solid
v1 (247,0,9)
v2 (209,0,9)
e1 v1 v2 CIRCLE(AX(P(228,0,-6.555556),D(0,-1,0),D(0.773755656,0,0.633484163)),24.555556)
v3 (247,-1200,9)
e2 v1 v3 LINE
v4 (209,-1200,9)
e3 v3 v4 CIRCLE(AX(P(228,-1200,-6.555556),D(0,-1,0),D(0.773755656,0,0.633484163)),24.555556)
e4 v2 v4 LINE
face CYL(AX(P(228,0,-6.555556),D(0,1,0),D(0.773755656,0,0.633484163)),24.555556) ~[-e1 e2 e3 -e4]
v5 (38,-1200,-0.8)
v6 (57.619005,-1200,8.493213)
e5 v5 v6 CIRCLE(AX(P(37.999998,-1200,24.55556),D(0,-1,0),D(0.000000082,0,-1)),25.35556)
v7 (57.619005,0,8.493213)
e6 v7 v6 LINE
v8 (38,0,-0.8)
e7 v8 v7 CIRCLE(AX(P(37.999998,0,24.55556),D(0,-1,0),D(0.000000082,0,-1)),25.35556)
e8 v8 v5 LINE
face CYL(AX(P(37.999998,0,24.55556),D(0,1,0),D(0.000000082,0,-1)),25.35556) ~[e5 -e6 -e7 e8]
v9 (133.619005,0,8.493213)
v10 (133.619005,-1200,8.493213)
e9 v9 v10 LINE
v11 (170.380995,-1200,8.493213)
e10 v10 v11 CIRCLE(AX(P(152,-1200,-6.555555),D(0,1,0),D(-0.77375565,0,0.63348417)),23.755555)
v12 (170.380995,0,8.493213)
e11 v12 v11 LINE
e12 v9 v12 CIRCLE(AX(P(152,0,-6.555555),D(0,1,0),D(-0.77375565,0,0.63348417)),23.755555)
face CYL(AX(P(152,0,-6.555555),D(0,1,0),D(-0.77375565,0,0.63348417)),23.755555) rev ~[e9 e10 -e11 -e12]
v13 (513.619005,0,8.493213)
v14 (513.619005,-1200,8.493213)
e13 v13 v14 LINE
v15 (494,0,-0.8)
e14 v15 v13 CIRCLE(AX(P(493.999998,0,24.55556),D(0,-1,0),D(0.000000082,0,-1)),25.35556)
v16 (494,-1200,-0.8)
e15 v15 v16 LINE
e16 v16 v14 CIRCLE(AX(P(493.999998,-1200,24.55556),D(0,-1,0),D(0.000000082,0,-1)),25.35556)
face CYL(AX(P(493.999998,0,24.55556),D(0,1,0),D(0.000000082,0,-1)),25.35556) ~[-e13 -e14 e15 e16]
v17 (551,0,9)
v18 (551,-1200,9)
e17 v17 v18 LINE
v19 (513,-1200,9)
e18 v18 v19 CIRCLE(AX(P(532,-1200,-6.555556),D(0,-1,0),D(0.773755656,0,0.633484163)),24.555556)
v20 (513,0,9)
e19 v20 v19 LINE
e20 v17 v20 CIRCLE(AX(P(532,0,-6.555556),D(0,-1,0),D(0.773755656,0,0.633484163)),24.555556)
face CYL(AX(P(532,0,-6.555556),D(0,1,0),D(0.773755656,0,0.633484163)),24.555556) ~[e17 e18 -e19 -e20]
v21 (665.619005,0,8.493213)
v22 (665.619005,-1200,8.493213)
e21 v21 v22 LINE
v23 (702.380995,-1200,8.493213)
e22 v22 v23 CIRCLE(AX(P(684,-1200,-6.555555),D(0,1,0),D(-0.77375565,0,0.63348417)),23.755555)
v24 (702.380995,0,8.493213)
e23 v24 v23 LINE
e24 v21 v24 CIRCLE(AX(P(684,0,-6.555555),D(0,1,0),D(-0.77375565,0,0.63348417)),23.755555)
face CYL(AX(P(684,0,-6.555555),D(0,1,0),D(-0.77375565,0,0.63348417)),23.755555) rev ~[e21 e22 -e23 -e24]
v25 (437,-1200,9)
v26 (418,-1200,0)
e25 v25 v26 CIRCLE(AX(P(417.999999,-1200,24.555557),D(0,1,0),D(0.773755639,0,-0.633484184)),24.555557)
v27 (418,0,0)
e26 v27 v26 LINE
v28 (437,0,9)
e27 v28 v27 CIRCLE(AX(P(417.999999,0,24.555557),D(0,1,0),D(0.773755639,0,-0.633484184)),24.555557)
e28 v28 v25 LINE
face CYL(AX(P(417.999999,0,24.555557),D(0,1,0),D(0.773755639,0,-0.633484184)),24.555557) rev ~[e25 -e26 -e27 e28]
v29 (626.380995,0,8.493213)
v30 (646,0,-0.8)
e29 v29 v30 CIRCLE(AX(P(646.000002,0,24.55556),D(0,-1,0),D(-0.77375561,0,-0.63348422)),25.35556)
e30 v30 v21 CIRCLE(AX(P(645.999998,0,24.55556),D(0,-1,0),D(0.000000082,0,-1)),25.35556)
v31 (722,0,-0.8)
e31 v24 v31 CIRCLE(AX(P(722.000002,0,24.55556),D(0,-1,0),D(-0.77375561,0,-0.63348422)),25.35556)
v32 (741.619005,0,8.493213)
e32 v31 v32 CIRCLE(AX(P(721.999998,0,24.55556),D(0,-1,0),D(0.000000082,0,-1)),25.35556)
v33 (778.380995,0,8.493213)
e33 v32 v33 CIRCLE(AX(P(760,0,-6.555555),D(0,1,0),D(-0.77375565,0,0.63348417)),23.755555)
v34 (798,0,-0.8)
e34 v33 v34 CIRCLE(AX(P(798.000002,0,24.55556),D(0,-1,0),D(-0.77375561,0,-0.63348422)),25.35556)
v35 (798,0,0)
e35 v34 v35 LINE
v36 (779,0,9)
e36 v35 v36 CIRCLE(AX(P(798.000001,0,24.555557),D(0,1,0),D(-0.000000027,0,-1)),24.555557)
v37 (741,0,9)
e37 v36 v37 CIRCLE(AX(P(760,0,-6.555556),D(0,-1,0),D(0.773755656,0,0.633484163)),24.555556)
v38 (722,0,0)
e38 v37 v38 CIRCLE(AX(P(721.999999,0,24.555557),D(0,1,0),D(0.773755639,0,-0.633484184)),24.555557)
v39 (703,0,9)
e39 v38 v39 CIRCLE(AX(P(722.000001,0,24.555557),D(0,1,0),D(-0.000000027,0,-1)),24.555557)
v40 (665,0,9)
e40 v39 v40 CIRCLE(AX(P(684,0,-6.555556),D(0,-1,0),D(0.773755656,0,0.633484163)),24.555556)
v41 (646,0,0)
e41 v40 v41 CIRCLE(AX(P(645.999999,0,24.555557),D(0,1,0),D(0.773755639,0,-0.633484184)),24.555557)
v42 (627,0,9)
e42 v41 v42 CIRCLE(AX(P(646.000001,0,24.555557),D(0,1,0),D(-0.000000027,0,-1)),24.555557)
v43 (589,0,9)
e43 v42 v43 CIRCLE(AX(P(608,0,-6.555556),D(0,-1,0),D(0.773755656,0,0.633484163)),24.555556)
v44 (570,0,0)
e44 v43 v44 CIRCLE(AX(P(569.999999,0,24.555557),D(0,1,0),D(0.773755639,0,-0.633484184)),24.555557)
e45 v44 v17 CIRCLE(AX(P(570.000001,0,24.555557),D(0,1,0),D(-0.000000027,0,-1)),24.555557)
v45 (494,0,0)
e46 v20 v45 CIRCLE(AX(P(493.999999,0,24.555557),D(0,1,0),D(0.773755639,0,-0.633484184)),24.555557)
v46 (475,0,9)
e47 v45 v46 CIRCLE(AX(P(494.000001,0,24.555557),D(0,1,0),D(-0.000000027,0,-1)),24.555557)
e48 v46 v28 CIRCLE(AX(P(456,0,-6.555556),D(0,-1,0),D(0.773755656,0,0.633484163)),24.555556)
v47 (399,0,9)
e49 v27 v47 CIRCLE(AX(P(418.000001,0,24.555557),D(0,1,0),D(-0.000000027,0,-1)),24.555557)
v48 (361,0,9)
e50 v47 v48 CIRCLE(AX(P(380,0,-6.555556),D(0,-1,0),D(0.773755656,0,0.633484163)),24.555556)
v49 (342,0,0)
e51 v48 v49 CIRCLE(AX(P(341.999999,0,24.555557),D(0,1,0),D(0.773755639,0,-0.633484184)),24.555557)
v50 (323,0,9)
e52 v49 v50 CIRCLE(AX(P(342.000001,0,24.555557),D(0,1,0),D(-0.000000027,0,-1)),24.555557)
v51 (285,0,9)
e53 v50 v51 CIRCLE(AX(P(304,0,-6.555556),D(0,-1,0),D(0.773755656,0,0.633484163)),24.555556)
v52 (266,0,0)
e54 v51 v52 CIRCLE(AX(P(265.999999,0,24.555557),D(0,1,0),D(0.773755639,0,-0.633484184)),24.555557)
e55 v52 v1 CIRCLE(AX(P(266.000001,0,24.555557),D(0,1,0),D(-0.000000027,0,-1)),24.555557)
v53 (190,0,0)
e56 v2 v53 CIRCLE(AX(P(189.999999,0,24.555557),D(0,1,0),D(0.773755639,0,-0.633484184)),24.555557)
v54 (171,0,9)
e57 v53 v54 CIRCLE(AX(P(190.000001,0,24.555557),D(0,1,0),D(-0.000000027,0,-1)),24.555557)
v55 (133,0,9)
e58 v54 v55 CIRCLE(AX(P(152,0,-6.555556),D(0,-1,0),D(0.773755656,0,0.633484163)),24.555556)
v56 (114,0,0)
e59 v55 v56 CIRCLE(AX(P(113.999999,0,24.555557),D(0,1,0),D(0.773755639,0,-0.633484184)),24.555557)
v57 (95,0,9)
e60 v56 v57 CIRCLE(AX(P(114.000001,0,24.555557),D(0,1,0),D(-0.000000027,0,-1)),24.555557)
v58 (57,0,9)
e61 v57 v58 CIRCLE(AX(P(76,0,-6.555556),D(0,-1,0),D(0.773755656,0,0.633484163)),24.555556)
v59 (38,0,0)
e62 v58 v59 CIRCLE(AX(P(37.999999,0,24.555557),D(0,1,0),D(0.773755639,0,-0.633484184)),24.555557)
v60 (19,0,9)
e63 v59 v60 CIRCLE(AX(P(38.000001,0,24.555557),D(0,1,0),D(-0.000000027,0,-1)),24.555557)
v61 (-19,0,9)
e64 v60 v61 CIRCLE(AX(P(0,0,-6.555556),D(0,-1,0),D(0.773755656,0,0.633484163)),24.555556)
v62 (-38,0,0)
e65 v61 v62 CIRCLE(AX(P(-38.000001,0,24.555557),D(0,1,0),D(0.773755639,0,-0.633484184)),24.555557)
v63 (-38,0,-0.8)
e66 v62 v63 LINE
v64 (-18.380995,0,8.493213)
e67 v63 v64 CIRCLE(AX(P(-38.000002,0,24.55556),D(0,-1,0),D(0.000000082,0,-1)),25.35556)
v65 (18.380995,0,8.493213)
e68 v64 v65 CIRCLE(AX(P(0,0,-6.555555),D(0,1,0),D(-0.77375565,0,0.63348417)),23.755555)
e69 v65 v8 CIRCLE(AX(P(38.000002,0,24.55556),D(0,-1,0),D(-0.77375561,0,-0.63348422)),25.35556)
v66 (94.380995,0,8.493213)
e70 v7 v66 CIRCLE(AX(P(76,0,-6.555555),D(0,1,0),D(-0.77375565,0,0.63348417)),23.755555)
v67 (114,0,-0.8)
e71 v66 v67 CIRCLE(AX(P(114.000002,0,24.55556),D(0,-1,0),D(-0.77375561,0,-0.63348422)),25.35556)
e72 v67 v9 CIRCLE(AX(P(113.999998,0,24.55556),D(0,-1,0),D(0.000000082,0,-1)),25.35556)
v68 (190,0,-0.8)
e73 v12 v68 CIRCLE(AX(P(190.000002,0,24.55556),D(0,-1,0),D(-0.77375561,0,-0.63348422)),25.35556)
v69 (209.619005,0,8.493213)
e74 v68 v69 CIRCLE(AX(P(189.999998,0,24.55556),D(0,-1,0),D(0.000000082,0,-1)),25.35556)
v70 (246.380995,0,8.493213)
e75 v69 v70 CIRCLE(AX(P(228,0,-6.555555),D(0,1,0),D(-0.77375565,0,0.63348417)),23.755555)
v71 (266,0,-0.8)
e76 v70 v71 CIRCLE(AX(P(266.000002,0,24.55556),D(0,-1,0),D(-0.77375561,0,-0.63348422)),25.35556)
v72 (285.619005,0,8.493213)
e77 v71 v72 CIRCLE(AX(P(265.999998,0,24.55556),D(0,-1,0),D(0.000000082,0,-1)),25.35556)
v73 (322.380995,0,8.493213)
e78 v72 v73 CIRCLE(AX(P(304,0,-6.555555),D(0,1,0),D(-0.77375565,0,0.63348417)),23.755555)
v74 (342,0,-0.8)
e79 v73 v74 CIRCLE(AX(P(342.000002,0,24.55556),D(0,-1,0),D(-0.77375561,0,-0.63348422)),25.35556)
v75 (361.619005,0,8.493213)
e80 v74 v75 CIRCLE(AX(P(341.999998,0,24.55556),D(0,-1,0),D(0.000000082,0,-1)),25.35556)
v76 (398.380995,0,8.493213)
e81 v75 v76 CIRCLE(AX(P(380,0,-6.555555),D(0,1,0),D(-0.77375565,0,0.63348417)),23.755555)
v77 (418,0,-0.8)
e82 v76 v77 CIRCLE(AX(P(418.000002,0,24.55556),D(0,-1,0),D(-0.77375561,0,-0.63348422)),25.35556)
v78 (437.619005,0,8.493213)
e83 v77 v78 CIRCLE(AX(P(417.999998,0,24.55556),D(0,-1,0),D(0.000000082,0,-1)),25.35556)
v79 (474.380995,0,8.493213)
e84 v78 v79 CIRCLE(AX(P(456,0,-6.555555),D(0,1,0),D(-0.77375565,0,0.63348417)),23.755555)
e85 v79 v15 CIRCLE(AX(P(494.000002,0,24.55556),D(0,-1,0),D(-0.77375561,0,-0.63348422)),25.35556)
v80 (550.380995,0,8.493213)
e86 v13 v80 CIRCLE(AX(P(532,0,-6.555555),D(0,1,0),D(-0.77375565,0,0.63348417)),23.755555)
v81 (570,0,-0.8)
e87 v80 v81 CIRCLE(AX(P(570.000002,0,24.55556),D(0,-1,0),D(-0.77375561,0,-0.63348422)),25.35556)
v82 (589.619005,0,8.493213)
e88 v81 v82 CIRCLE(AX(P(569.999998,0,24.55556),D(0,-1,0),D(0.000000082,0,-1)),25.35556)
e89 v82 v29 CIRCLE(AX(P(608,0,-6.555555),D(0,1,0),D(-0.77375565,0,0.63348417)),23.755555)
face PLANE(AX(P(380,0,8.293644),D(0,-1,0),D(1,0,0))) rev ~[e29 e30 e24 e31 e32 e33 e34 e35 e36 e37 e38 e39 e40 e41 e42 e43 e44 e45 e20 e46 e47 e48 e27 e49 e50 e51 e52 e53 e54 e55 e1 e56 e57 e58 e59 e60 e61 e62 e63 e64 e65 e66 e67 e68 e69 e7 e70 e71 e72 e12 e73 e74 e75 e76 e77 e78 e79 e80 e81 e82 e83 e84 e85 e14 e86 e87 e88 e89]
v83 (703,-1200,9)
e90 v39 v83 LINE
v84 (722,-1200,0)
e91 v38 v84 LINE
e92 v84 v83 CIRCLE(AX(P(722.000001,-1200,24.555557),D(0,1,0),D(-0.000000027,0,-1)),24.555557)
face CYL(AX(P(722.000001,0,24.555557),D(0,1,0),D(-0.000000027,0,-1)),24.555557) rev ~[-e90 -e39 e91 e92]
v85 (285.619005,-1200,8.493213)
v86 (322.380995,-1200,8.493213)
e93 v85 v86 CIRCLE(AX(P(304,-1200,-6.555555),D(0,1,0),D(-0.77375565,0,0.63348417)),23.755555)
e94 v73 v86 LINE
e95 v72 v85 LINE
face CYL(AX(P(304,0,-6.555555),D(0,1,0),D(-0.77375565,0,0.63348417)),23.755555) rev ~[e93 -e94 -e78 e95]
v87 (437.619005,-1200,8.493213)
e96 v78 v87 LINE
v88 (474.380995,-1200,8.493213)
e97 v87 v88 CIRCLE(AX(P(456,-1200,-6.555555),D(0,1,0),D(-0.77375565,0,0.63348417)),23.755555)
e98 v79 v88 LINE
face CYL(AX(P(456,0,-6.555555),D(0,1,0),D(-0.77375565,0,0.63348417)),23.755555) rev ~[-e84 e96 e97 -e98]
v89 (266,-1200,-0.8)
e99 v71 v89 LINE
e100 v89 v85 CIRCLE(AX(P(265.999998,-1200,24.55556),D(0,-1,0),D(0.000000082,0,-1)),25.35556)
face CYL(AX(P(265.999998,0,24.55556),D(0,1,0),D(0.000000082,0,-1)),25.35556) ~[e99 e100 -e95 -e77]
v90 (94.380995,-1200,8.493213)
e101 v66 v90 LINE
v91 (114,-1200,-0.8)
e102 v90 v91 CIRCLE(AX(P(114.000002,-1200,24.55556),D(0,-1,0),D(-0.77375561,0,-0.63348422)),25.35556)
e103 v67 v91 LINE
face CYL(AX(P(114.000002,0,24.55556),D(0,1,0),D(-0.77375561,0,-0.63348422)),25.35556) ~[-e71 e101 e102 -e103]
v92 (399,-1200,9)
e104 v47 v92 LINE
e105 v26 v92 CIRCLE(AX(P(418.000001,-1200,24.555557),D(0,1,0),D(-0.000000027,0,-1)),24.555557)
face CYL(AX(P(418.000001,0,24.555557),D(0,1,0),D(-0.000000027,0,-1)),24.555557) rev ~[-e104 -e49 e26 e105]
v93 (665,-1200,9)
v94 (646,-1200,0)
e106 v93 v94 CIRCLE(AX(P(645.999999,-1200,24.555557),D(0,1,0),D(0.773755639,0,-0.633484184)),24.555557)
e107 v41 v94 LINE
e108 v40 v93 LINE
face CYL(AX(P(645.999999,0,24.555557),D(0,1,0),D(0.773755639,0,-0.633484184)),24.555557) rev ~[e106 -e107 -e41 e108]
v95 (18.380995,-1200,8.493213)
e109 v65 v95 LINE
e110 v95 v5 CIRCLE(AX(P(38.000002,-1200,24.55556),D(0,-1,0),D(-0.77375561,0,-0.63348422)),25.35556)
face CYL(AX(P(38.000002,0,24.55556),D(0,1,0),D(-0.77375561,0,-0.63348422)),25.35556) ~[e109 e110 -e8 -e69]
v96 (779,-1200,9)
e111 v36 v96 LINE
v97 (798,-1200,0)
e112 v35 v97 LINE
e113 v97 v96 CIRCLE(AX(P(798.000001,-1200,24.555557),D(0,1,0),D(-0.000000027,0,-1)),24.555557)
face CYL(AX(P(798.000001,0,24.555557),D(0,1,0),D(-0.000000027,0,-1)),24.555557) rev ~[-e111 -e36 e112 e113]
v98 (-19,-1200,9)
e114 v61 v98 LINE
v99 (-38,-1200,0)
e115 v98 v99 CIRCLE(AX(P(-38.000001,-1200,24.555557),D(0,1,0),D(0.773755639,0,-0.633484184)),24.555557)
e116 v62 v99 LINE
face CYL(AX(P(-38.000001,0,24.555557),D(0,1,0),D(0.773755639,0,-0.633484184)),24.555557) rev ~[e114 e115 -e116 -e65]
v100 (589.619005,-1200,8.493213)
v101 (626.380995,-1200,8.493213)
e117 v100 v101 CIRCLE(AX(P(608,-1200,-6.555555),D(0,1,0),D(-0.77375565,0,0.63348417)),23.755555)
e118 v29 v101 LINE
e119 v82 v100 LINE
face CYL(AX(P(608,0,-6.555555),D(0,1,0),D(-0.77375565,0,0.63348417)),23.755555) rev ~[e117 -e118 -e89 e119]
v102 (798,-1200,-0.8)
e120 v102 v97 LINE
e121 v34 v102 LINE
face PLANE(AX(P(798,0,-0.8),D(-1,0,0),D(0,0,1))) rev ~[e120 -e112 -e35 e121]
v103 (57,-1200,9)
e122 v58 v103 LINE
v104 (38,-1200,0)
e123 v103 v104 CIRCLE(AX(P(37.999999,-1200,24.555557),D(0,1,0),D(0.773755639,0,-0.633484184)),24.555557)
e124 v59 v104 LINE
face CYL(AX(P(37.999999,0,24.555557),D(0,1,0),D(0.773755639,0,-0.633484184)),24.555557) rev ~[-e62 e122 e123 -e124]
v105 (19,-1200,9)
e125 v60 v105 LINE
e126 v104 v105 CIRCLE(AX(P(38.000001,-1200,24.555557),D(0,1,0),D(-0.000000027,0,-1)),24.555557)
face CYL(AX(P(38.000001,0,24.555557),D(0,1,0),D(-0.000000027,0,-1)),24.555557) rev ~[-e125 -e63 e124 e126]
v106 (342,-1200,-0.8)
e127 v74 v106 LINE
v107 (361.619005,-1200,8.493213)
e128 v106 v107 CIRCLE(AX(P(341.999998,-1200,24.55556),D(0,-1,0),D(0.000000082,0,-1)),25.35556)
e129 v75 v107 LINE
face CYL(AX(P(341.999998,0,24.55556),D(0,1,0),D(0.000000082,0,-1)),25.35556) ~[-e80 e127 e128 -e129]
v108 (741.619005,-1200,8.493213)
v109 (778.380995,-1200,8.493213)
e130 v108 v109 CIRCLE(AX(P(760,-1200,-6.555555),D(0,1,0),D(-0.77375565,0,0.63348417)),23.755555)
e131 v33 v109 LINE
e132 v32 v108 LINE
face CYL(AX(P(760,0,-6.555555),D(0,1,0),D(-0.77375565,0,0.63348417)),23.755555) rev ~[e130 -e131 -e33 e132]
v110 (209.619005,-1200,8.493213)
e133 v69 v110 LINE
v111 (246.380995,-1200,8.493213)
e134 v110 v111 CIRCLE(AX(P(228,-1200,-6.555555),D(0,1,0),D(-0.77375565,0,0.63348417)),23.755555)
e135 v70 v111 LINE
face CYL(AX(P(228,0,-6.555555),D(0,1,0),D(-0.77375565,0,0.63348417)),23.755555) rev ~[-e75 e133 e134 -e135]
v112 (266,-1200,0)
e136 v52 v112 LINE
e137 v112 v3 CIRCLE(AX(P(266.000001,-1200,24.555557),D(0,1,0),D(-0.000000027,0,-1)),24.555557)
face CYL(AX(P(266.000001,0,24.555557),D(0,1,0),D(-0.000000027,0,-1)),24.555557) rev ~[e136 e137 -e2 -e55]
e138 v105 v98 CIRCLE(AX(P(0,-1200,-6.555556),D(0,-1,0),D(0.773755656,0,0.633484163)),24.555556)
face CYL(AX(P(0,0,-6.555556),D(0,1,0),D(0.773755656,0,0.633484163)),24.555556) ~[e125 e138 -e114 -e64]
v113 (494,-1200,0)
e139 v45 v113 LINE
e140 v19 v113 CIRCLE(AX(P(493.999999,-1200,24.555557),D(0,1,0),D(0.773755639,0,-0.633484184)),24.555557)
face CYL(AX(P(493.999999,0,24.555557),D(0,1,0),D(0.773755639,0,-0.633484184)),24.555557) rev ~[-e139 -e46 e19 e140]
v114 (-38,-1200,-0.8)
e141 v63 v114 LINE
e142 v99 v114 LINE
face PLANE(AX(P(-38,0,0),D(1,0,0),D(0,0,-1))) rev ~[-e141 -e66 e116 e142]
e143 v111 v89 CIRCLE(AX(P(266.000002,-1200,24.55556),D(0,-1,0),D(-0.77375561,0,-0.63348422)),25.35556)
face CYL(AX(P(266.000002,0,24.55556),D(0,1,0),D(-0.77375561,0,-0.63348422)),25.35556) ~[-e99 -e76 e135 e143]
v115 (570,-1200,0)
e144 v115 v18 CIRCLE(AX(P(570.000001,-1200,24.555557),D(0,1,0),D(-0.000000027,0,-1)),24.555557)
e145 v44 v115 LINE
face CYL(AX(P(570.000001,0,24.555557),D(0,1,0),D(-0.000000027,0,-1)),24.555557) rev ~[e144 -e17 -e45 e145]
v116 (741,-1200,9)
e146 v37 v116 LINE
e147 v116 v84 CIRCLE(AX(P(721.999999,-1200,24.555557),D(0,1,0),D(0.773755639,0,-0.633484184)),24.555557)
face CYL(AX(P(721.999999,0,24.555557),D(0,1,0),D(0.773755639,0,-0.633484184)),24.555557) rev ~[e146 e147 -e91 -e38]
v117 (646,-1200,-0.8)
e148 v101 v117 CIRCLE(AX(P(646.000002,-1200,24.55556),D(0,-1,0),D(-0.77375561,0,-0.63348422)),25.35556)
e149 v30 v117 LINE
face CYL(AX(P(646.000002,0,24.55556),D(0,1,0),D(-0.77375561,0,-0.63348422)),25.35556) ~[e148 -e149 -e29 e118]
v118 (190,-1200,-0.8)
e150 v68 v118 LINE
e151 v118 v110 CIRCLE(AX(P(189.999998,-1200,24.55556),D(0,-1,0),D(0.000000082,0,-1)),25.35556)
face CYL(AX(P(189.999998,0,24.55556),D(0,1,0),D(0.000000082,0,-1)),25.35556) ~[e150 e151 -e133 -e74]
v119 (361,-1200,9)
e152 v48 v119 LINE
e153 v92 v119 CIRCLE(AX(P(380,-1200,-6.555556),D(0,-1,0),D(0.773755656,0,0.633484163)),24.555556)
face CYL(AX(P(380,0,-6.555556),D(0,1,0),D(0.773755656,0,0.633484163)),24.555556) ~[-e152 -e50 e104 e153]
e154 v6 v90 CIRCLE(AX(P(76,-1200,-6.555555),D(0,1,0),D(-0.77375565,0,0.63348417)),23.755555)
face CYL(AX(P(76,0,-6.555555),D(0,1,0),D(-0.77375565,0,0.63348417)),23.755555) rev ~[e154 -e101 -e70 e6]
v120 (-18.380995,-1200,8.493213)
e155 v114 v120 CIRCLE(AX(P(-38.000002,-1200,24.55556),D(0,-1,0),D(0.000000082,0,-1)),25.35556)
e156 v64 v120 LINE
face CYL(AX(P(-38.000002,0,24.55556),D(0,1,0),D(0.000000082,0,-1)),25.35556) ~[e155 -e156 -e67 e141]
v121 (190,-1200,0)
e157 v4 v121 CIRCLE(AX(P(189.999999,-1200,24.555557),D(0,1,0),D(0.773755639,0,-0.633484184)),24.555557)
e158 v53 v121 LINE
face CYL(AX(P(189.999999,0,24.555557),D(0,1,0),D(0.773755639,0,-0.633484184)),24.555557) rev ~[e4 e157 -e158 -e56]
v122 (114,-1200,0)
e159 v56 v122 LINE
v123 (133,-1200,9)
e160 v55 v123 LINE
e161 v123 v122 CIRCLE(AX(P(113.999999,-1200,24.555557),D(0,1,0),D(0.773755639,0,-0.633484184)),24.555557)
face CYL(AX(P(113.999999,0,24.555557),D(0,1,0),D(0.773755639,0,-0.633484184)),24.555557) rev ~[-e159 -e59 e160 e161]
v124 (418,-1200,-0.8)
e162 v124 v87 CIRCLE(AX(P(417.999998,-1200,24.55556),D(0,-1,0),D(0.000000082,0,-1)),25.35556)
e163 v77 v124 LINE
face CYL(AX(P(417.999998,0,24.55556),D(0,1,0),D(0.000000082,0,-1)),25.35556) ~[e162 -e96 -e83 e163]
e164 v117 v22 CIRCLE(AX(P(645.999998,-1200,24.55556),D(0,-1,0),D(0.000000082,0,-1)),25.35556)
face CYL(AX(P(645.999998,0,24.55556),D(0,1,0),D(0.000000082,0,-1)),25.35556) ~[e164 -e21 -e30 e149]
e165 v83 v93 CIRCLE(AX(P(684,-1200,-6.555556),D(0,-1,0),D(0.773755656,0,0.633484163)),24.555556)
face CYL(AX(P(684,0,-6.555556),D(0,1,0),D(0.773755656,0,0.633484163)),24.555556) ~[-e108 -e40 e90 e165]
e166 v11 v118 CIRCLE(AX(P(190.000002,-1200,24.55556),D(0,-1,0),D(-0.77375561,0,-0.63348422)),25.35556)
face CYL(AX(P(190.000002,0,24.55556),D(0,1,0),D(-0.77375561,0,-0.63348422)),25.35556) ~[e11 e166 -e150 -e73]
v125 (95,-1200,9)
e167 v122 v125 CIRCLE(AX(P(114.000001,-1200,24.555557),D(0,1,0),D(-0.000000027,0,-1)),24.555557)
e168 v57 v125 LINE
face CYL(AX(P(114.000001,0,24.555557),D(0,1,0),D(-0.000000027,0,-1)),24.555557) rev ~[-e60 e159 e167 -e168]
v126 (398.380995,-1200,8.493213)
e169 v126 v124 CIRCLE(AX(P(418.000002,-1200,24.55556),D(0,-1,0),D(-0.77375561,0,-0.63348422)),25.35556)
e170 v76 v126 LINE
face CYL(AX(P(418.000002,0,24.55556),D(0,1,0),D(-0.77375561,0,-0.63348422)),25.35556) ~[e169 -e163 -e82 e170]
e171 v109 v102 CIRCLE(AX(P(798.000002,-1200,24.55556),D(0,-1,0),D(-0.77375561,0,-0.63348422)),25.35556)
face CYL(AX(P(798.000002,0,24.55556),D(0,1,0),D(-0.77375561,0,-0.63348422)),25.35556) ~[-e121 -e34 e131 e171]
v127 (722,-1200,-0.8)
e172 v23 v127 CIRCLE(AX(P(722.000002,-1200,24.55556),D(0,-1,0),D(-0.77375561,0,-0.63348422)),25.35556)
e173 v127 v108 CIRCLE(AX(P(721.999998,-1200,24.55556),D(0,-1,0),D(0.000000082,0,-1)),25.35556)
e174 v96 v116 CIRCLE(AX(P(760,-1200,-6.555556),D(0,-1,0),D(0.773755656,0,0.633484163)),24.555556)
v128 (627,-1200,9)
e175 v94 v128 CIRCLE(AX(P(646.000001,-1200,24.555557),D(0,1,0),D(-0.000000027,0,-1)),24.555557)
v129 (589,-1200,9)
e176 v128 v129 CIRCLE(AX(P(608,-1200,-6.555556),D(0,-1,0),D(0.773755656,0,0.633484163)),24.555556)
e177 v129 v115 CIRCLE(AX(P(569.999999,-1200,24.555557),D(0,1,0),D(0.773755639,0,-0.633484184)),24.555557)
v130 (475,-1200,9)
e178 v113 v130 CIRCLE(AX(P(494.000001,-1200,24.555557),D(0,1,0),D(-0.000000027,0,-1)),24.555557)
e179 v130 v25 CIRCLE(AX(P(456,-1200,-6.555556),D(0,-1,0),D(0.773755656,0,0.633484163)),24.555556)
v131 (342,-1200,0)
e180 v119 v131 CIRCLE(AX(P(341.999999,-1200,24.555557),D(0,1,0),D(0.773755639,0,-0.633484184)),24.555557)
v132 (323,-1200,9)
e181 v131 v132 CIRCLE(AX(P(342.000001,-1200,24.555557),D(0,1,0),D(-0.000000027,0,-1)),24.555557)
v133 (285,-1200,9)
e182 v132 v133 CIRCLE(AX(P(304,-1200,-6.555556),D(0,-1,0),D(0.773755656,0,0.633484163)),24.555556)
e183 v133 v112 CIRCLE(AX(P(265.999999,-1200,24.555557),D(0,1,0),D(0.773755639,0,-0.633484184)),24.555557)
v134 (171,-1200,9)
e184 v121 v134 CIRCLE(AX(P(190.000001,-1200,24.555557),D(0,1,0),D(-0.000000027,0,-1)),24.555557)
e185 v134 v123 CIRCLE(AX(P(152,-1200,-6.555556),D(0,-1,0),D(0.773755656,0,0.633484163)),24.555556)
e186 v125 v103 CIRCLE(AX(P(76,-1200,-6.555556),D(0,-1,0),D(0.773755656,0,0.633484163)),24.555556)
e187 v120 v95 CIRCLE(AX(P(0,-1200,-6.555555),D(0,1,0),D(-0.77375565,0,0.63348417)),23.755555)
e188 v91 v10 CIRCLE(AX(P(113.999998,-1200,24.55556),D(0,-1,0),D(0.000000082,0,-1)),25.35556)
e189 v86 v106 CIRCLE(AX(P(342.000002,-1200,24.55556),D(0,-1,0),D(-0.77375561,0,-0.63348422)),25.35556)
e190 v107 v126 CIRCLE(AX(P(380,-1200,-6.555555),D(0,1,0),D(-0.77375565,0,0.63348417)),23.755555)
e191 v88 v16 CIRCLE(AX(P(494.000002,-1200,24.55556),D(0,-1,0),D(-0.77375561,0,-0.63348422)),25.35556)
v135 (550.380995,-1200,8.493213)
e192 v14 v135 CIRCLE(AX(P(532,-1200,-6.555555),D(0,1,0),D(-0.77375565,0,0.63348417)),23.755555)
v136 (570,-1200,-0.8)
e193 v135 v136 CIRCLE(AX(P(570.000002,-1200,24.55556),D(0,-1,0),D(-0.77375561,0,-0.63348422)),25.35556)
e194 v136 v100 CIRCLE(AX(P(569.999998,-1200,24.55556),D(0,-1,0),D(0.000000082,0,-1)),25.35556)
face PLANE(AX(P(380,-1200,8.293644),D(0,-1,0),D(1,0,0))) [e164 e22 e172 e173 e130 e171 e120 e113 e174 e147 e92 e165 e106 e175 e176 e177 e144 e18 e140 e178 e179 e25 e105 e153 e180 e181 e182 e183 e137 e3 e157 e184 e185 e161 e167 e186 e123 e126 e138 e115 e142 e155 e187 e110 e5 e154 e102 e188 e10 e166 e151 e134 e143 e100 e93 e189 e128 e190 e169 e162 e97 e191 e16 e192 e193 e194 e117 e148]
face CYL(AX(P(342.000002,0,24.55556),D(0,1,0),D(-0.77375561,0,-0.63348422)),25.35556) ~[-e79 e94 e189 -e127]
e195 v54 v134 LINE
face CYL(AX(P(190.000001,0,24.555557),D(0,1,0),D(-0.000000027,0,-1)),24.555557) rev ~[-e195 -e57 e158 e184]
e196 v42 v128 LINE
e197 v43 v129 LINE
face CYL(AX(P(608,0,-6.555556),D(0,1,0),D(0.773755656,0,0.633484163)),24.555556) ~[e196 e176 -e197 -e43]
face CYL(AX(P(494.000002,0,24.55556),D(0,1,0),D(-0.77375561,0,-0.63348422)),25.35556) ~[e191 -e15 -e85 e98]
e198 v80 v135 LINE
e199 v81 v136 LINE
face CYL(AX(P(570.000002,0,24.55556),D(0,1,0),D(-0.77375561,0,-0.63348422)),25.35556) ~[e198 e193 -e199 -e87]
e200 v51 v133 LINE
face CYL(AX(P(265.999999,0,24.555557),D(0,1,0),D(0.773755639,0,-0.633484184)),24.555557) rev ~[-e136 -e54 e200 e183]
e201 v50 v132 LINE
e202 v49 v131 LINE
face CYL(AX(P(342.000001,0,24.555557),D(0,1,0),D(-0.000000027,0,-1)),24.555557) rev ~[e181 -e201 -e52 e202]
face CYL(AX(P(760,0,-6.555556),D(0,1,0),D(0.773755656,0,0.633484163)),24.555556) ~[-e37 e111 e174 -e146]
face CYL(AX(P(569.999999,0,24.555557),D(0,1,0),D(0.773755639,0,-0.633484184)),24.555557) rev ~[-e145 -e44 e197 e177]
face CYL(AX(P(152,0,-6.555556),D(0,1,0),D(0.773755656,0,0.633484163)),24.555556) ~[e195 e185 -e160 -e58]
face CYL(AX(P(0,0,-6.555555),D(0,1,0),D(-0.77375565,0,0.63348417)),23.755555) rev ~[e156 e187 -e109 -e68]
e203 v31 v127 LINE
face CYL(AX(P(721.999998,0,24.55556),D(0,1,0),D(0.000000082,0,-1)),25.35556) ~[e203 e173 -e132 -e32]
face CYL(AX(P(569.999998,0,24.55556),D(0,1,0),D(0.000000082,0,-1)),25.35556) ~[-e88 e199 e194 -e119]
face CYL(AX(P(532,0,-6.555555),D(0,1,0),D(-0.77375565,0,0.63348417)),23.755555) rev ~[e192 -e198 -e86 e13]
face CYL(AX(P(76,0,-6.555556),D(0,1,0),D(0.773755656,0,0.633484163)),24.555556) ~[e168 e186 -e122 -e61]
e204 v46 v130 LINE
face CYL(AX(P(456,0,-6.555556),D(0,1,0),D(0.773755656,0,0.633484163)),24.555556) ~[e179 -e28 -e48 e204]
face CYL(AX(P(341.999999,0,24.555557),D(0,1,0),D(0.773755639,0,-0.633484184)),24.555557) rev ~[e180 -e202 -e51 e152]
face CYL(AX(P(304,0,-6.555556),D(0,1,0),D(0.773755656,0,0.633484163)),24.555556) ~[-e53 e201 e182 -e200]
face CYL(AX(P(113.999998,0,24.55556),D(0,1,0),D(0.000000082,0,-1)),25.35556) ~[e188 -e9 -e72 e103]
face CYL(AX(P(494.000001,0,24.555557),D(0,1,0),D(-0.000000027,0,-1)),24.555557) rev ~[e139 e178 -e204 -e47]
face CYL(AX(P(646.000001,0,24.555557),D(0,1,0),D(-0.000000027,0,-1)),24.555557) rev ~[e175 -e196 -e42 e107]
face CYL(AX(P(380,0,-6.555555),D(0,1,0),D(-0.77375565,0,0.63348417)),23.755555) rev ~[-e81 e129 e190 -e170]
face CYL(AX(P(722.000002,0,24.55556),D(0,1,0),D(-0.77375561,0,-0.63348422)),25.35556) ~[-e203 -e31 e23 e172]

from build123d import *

# Parameters (mm, degrees)
F1_DEPTH = 1200


with BuildPart() as f1:
    # F0 (on Front) → F1 (new body)
    with BuildSketch(Plane.XZ):
        with BuildLine():
            ThreePointArc((38, 0), (27.488102, 2.363771), (19, 9))
            ThreePointArc((19, 9), (0, 18), (-19, 9))
            ThreePointArc((-19, 9), (-27.488102, 2.363771), (-38, 0))
            Line((-38, 0), (-38, -0.8))
            ThreePointArc((-38, -0.8), (-27.145633, 1.640781), (-18.380995, 8.493213))
            ThreePointArc((-18.380995, 8.493213), (0, 17.2), (18.380995, 8.493213))
            ThreePointArc((18.380995, 8.493213), (27.145633, 1.640781), (38, -0.8))
            ThreePointArc((38, -0.8), (48.854367, 1.640781), (57.619005, 8.493213))
            ThreePointArc((57.619005, 8.493213), (76, 17.2), (94.380995, 8.493213))
            ThreePointArc((94.380995, 8.493213), (103.145633, 1.640781), (114, -0.8))
            ThreePointArc((114, -0.8), (124.854367, 1.640781), (133.619005, 8.493213))
            ThreePointArc((133.619005, 8.493213), (152, 17.2), (170.380995, 8.493213))
            ThreePointArc((170.380995, 8.493213), (179.145633, 1.640781), (190, -0.8))
            ThreePointArc((190, -0.8), (200.854367, 1.640781), (209.619005, 8.493213))
            ThreePointArc((209.619005, 8.493213), (228, 17.2), (246.380995, 8.493213))
            ThreePointArc((246.380995, 8.493213), (255.145633, 1.640781), (266, -0.8))
            ThreePointArc((266, -0.8), (276.854367, 1.640781), (285.619005, 8.493213))
            ThreePointArc((285.619005, 8.493213), (304, 17.2), (322.380995, 8.493213))
            ThreePointArc((322.380995, 8.493213), (331.145633, 1.640781), (342, -0.8))
            ThreePointArc((342, -0.8), (352.854367, 1.640781), (361.619005, 8.493213))
            ThreePointArc((361.619005, 8.493213), (380, 17.2), (398.380995, 8.493213))
            ThreePointArc((398.380995, 8.493213), (407.145633, 1.640781), (418, -0.8))
            ThreePointArc((418, -0.8), (428.854367, 1.640781), (437.619005, 8.493213))
            ThreePointArc((437.619005, 8.493213), (456, 17.2), (474.380995, 8.493213))
            ThreePointArc((474.380995, 8.493213), (483.145633, 1.640781), (494, -0.8))
            ThreePointArc((494, -0.8), (504.854367, 1.640781), (513.619005, 8.493213))
            ThreePointArc((513.619005, 8.493213), (532, 17.2), (550.380995, 8.493213))
            ThreePointArc((550.380995, 8.493213), (559.145633, 1.640781), (570, -0.8))
            ThreePointArc((570, -0.8), (580.854367, 1.640781), (589.619005, 8.493213))
            ThreePointArc((589.619005, 8.493213), (608, 17.2), (626.380995, 8.493213))
            ThreePointArc((626.380995, 8.493213), (635.145633, 1.640781), (646, -0.8))
            ThreePointArc((646, -0.8), (656.854367, 1.640781), (665.619005, 8.493213))
            ThreePointArc((665.619005, 8.493213), (684, 17.2), (702.380995, 8.493213))
            ThreePointArc((702.380995, 8.493213), (711.145633, 1.640781), (722, -0.8))
            ThreePointArc((722, -0.8), (732.854367, 1.640781), (741.619005, 8.493213))
            ThreePointArc((741.619005, 8.493213), (760, 17.2), (778.380995, 8.493213))
            ThreePointArc((778.380995, 8.493213), (787.145633, 1.640781), (798, -0.8))
            Line((798, -0.8), (798, 0))
            ThreePointArc((798, 0), (787.488102, 2.363771), (779, 9))
            ThreePointArc((779, 9), (760, 18), (741, 9))
            ThreePointArc((741, 9), (732.511898, 2.363771), (722, 0))
            ThreePointArc((722, 0), (711.488102, 2.363771), (703, 9))
            ThreePointArc((703, 9), (684, 18), (665, 9))
            ThreePointArc((665, 9), (656.511898, 2.363771), (646, 0))
            ThreePointArc((646, 0), (635.488102, 2.363771), (627, 9))
            ThreePointArc((627, 9), (608, 18), (589, 9))
            ThreePointArc((589, 9), (580.511898, 2.363771), (570, 0))
            ThreePointArc((570, 0), (559.488102, 2.363771), (551, 9))
            ThreePointArc((551, 9), (532, 18), (513, 9))
            ThreePointArc((513, 9), (504.511898, 2.363771), (494, 0))
            ThreePointArc((494, 0), (483.488102, 2.363771), (475, 9))
            ThreePointArc((475, 9), (456, 18), (437, 9))
            ThreePointArc((437, 9), (428.511898, 2.363771), (418, 0))
            ThreePointArc((418, 0), (407.488102, 2.363771), (399, 9))
            ThreePointArc((399, 9), (380, 18), (361, 9))
            ThreePointArc((361, 9), (352.511898, 2.363771), (342, 0))
            ThreePointArc((342, 0), (331.488102, 2.363771), (323, 9))
            ThreePointArc((323, 9), (304, 18), (285, 9))
            ThreePointArc((285, 9), (276.511898, 2.363771), (266, 0))
            ThreePointArc((266, 0), (255.488102, 2.363771), (247, 9))
            ThreePointArc((247, 9), (228, 18), (209, 9))
            ThreePointArc((209, 9), (200.511898, 2.363771), (190, 0))
            ThreePointArc((190, 0), (179.488102, 2.363771), (171, 9))
            ThreePointArc((171, 9), (152, 18), (133, 9))
            ThreePointArc((133, 9), (124.511898, 2.363771), (114, 0))
            ThreePointArc((114, 0), (103.488102, 2.363771), (95, 9))
            ThreePointArc((95, 9), (76, 18), (57, 9))
            ThreePointArc((57, 9), (48.511898, 2.363771), (38, 0))
        make_face()
    extrude(amount=F1_DEPTH)


solid = f1.part
